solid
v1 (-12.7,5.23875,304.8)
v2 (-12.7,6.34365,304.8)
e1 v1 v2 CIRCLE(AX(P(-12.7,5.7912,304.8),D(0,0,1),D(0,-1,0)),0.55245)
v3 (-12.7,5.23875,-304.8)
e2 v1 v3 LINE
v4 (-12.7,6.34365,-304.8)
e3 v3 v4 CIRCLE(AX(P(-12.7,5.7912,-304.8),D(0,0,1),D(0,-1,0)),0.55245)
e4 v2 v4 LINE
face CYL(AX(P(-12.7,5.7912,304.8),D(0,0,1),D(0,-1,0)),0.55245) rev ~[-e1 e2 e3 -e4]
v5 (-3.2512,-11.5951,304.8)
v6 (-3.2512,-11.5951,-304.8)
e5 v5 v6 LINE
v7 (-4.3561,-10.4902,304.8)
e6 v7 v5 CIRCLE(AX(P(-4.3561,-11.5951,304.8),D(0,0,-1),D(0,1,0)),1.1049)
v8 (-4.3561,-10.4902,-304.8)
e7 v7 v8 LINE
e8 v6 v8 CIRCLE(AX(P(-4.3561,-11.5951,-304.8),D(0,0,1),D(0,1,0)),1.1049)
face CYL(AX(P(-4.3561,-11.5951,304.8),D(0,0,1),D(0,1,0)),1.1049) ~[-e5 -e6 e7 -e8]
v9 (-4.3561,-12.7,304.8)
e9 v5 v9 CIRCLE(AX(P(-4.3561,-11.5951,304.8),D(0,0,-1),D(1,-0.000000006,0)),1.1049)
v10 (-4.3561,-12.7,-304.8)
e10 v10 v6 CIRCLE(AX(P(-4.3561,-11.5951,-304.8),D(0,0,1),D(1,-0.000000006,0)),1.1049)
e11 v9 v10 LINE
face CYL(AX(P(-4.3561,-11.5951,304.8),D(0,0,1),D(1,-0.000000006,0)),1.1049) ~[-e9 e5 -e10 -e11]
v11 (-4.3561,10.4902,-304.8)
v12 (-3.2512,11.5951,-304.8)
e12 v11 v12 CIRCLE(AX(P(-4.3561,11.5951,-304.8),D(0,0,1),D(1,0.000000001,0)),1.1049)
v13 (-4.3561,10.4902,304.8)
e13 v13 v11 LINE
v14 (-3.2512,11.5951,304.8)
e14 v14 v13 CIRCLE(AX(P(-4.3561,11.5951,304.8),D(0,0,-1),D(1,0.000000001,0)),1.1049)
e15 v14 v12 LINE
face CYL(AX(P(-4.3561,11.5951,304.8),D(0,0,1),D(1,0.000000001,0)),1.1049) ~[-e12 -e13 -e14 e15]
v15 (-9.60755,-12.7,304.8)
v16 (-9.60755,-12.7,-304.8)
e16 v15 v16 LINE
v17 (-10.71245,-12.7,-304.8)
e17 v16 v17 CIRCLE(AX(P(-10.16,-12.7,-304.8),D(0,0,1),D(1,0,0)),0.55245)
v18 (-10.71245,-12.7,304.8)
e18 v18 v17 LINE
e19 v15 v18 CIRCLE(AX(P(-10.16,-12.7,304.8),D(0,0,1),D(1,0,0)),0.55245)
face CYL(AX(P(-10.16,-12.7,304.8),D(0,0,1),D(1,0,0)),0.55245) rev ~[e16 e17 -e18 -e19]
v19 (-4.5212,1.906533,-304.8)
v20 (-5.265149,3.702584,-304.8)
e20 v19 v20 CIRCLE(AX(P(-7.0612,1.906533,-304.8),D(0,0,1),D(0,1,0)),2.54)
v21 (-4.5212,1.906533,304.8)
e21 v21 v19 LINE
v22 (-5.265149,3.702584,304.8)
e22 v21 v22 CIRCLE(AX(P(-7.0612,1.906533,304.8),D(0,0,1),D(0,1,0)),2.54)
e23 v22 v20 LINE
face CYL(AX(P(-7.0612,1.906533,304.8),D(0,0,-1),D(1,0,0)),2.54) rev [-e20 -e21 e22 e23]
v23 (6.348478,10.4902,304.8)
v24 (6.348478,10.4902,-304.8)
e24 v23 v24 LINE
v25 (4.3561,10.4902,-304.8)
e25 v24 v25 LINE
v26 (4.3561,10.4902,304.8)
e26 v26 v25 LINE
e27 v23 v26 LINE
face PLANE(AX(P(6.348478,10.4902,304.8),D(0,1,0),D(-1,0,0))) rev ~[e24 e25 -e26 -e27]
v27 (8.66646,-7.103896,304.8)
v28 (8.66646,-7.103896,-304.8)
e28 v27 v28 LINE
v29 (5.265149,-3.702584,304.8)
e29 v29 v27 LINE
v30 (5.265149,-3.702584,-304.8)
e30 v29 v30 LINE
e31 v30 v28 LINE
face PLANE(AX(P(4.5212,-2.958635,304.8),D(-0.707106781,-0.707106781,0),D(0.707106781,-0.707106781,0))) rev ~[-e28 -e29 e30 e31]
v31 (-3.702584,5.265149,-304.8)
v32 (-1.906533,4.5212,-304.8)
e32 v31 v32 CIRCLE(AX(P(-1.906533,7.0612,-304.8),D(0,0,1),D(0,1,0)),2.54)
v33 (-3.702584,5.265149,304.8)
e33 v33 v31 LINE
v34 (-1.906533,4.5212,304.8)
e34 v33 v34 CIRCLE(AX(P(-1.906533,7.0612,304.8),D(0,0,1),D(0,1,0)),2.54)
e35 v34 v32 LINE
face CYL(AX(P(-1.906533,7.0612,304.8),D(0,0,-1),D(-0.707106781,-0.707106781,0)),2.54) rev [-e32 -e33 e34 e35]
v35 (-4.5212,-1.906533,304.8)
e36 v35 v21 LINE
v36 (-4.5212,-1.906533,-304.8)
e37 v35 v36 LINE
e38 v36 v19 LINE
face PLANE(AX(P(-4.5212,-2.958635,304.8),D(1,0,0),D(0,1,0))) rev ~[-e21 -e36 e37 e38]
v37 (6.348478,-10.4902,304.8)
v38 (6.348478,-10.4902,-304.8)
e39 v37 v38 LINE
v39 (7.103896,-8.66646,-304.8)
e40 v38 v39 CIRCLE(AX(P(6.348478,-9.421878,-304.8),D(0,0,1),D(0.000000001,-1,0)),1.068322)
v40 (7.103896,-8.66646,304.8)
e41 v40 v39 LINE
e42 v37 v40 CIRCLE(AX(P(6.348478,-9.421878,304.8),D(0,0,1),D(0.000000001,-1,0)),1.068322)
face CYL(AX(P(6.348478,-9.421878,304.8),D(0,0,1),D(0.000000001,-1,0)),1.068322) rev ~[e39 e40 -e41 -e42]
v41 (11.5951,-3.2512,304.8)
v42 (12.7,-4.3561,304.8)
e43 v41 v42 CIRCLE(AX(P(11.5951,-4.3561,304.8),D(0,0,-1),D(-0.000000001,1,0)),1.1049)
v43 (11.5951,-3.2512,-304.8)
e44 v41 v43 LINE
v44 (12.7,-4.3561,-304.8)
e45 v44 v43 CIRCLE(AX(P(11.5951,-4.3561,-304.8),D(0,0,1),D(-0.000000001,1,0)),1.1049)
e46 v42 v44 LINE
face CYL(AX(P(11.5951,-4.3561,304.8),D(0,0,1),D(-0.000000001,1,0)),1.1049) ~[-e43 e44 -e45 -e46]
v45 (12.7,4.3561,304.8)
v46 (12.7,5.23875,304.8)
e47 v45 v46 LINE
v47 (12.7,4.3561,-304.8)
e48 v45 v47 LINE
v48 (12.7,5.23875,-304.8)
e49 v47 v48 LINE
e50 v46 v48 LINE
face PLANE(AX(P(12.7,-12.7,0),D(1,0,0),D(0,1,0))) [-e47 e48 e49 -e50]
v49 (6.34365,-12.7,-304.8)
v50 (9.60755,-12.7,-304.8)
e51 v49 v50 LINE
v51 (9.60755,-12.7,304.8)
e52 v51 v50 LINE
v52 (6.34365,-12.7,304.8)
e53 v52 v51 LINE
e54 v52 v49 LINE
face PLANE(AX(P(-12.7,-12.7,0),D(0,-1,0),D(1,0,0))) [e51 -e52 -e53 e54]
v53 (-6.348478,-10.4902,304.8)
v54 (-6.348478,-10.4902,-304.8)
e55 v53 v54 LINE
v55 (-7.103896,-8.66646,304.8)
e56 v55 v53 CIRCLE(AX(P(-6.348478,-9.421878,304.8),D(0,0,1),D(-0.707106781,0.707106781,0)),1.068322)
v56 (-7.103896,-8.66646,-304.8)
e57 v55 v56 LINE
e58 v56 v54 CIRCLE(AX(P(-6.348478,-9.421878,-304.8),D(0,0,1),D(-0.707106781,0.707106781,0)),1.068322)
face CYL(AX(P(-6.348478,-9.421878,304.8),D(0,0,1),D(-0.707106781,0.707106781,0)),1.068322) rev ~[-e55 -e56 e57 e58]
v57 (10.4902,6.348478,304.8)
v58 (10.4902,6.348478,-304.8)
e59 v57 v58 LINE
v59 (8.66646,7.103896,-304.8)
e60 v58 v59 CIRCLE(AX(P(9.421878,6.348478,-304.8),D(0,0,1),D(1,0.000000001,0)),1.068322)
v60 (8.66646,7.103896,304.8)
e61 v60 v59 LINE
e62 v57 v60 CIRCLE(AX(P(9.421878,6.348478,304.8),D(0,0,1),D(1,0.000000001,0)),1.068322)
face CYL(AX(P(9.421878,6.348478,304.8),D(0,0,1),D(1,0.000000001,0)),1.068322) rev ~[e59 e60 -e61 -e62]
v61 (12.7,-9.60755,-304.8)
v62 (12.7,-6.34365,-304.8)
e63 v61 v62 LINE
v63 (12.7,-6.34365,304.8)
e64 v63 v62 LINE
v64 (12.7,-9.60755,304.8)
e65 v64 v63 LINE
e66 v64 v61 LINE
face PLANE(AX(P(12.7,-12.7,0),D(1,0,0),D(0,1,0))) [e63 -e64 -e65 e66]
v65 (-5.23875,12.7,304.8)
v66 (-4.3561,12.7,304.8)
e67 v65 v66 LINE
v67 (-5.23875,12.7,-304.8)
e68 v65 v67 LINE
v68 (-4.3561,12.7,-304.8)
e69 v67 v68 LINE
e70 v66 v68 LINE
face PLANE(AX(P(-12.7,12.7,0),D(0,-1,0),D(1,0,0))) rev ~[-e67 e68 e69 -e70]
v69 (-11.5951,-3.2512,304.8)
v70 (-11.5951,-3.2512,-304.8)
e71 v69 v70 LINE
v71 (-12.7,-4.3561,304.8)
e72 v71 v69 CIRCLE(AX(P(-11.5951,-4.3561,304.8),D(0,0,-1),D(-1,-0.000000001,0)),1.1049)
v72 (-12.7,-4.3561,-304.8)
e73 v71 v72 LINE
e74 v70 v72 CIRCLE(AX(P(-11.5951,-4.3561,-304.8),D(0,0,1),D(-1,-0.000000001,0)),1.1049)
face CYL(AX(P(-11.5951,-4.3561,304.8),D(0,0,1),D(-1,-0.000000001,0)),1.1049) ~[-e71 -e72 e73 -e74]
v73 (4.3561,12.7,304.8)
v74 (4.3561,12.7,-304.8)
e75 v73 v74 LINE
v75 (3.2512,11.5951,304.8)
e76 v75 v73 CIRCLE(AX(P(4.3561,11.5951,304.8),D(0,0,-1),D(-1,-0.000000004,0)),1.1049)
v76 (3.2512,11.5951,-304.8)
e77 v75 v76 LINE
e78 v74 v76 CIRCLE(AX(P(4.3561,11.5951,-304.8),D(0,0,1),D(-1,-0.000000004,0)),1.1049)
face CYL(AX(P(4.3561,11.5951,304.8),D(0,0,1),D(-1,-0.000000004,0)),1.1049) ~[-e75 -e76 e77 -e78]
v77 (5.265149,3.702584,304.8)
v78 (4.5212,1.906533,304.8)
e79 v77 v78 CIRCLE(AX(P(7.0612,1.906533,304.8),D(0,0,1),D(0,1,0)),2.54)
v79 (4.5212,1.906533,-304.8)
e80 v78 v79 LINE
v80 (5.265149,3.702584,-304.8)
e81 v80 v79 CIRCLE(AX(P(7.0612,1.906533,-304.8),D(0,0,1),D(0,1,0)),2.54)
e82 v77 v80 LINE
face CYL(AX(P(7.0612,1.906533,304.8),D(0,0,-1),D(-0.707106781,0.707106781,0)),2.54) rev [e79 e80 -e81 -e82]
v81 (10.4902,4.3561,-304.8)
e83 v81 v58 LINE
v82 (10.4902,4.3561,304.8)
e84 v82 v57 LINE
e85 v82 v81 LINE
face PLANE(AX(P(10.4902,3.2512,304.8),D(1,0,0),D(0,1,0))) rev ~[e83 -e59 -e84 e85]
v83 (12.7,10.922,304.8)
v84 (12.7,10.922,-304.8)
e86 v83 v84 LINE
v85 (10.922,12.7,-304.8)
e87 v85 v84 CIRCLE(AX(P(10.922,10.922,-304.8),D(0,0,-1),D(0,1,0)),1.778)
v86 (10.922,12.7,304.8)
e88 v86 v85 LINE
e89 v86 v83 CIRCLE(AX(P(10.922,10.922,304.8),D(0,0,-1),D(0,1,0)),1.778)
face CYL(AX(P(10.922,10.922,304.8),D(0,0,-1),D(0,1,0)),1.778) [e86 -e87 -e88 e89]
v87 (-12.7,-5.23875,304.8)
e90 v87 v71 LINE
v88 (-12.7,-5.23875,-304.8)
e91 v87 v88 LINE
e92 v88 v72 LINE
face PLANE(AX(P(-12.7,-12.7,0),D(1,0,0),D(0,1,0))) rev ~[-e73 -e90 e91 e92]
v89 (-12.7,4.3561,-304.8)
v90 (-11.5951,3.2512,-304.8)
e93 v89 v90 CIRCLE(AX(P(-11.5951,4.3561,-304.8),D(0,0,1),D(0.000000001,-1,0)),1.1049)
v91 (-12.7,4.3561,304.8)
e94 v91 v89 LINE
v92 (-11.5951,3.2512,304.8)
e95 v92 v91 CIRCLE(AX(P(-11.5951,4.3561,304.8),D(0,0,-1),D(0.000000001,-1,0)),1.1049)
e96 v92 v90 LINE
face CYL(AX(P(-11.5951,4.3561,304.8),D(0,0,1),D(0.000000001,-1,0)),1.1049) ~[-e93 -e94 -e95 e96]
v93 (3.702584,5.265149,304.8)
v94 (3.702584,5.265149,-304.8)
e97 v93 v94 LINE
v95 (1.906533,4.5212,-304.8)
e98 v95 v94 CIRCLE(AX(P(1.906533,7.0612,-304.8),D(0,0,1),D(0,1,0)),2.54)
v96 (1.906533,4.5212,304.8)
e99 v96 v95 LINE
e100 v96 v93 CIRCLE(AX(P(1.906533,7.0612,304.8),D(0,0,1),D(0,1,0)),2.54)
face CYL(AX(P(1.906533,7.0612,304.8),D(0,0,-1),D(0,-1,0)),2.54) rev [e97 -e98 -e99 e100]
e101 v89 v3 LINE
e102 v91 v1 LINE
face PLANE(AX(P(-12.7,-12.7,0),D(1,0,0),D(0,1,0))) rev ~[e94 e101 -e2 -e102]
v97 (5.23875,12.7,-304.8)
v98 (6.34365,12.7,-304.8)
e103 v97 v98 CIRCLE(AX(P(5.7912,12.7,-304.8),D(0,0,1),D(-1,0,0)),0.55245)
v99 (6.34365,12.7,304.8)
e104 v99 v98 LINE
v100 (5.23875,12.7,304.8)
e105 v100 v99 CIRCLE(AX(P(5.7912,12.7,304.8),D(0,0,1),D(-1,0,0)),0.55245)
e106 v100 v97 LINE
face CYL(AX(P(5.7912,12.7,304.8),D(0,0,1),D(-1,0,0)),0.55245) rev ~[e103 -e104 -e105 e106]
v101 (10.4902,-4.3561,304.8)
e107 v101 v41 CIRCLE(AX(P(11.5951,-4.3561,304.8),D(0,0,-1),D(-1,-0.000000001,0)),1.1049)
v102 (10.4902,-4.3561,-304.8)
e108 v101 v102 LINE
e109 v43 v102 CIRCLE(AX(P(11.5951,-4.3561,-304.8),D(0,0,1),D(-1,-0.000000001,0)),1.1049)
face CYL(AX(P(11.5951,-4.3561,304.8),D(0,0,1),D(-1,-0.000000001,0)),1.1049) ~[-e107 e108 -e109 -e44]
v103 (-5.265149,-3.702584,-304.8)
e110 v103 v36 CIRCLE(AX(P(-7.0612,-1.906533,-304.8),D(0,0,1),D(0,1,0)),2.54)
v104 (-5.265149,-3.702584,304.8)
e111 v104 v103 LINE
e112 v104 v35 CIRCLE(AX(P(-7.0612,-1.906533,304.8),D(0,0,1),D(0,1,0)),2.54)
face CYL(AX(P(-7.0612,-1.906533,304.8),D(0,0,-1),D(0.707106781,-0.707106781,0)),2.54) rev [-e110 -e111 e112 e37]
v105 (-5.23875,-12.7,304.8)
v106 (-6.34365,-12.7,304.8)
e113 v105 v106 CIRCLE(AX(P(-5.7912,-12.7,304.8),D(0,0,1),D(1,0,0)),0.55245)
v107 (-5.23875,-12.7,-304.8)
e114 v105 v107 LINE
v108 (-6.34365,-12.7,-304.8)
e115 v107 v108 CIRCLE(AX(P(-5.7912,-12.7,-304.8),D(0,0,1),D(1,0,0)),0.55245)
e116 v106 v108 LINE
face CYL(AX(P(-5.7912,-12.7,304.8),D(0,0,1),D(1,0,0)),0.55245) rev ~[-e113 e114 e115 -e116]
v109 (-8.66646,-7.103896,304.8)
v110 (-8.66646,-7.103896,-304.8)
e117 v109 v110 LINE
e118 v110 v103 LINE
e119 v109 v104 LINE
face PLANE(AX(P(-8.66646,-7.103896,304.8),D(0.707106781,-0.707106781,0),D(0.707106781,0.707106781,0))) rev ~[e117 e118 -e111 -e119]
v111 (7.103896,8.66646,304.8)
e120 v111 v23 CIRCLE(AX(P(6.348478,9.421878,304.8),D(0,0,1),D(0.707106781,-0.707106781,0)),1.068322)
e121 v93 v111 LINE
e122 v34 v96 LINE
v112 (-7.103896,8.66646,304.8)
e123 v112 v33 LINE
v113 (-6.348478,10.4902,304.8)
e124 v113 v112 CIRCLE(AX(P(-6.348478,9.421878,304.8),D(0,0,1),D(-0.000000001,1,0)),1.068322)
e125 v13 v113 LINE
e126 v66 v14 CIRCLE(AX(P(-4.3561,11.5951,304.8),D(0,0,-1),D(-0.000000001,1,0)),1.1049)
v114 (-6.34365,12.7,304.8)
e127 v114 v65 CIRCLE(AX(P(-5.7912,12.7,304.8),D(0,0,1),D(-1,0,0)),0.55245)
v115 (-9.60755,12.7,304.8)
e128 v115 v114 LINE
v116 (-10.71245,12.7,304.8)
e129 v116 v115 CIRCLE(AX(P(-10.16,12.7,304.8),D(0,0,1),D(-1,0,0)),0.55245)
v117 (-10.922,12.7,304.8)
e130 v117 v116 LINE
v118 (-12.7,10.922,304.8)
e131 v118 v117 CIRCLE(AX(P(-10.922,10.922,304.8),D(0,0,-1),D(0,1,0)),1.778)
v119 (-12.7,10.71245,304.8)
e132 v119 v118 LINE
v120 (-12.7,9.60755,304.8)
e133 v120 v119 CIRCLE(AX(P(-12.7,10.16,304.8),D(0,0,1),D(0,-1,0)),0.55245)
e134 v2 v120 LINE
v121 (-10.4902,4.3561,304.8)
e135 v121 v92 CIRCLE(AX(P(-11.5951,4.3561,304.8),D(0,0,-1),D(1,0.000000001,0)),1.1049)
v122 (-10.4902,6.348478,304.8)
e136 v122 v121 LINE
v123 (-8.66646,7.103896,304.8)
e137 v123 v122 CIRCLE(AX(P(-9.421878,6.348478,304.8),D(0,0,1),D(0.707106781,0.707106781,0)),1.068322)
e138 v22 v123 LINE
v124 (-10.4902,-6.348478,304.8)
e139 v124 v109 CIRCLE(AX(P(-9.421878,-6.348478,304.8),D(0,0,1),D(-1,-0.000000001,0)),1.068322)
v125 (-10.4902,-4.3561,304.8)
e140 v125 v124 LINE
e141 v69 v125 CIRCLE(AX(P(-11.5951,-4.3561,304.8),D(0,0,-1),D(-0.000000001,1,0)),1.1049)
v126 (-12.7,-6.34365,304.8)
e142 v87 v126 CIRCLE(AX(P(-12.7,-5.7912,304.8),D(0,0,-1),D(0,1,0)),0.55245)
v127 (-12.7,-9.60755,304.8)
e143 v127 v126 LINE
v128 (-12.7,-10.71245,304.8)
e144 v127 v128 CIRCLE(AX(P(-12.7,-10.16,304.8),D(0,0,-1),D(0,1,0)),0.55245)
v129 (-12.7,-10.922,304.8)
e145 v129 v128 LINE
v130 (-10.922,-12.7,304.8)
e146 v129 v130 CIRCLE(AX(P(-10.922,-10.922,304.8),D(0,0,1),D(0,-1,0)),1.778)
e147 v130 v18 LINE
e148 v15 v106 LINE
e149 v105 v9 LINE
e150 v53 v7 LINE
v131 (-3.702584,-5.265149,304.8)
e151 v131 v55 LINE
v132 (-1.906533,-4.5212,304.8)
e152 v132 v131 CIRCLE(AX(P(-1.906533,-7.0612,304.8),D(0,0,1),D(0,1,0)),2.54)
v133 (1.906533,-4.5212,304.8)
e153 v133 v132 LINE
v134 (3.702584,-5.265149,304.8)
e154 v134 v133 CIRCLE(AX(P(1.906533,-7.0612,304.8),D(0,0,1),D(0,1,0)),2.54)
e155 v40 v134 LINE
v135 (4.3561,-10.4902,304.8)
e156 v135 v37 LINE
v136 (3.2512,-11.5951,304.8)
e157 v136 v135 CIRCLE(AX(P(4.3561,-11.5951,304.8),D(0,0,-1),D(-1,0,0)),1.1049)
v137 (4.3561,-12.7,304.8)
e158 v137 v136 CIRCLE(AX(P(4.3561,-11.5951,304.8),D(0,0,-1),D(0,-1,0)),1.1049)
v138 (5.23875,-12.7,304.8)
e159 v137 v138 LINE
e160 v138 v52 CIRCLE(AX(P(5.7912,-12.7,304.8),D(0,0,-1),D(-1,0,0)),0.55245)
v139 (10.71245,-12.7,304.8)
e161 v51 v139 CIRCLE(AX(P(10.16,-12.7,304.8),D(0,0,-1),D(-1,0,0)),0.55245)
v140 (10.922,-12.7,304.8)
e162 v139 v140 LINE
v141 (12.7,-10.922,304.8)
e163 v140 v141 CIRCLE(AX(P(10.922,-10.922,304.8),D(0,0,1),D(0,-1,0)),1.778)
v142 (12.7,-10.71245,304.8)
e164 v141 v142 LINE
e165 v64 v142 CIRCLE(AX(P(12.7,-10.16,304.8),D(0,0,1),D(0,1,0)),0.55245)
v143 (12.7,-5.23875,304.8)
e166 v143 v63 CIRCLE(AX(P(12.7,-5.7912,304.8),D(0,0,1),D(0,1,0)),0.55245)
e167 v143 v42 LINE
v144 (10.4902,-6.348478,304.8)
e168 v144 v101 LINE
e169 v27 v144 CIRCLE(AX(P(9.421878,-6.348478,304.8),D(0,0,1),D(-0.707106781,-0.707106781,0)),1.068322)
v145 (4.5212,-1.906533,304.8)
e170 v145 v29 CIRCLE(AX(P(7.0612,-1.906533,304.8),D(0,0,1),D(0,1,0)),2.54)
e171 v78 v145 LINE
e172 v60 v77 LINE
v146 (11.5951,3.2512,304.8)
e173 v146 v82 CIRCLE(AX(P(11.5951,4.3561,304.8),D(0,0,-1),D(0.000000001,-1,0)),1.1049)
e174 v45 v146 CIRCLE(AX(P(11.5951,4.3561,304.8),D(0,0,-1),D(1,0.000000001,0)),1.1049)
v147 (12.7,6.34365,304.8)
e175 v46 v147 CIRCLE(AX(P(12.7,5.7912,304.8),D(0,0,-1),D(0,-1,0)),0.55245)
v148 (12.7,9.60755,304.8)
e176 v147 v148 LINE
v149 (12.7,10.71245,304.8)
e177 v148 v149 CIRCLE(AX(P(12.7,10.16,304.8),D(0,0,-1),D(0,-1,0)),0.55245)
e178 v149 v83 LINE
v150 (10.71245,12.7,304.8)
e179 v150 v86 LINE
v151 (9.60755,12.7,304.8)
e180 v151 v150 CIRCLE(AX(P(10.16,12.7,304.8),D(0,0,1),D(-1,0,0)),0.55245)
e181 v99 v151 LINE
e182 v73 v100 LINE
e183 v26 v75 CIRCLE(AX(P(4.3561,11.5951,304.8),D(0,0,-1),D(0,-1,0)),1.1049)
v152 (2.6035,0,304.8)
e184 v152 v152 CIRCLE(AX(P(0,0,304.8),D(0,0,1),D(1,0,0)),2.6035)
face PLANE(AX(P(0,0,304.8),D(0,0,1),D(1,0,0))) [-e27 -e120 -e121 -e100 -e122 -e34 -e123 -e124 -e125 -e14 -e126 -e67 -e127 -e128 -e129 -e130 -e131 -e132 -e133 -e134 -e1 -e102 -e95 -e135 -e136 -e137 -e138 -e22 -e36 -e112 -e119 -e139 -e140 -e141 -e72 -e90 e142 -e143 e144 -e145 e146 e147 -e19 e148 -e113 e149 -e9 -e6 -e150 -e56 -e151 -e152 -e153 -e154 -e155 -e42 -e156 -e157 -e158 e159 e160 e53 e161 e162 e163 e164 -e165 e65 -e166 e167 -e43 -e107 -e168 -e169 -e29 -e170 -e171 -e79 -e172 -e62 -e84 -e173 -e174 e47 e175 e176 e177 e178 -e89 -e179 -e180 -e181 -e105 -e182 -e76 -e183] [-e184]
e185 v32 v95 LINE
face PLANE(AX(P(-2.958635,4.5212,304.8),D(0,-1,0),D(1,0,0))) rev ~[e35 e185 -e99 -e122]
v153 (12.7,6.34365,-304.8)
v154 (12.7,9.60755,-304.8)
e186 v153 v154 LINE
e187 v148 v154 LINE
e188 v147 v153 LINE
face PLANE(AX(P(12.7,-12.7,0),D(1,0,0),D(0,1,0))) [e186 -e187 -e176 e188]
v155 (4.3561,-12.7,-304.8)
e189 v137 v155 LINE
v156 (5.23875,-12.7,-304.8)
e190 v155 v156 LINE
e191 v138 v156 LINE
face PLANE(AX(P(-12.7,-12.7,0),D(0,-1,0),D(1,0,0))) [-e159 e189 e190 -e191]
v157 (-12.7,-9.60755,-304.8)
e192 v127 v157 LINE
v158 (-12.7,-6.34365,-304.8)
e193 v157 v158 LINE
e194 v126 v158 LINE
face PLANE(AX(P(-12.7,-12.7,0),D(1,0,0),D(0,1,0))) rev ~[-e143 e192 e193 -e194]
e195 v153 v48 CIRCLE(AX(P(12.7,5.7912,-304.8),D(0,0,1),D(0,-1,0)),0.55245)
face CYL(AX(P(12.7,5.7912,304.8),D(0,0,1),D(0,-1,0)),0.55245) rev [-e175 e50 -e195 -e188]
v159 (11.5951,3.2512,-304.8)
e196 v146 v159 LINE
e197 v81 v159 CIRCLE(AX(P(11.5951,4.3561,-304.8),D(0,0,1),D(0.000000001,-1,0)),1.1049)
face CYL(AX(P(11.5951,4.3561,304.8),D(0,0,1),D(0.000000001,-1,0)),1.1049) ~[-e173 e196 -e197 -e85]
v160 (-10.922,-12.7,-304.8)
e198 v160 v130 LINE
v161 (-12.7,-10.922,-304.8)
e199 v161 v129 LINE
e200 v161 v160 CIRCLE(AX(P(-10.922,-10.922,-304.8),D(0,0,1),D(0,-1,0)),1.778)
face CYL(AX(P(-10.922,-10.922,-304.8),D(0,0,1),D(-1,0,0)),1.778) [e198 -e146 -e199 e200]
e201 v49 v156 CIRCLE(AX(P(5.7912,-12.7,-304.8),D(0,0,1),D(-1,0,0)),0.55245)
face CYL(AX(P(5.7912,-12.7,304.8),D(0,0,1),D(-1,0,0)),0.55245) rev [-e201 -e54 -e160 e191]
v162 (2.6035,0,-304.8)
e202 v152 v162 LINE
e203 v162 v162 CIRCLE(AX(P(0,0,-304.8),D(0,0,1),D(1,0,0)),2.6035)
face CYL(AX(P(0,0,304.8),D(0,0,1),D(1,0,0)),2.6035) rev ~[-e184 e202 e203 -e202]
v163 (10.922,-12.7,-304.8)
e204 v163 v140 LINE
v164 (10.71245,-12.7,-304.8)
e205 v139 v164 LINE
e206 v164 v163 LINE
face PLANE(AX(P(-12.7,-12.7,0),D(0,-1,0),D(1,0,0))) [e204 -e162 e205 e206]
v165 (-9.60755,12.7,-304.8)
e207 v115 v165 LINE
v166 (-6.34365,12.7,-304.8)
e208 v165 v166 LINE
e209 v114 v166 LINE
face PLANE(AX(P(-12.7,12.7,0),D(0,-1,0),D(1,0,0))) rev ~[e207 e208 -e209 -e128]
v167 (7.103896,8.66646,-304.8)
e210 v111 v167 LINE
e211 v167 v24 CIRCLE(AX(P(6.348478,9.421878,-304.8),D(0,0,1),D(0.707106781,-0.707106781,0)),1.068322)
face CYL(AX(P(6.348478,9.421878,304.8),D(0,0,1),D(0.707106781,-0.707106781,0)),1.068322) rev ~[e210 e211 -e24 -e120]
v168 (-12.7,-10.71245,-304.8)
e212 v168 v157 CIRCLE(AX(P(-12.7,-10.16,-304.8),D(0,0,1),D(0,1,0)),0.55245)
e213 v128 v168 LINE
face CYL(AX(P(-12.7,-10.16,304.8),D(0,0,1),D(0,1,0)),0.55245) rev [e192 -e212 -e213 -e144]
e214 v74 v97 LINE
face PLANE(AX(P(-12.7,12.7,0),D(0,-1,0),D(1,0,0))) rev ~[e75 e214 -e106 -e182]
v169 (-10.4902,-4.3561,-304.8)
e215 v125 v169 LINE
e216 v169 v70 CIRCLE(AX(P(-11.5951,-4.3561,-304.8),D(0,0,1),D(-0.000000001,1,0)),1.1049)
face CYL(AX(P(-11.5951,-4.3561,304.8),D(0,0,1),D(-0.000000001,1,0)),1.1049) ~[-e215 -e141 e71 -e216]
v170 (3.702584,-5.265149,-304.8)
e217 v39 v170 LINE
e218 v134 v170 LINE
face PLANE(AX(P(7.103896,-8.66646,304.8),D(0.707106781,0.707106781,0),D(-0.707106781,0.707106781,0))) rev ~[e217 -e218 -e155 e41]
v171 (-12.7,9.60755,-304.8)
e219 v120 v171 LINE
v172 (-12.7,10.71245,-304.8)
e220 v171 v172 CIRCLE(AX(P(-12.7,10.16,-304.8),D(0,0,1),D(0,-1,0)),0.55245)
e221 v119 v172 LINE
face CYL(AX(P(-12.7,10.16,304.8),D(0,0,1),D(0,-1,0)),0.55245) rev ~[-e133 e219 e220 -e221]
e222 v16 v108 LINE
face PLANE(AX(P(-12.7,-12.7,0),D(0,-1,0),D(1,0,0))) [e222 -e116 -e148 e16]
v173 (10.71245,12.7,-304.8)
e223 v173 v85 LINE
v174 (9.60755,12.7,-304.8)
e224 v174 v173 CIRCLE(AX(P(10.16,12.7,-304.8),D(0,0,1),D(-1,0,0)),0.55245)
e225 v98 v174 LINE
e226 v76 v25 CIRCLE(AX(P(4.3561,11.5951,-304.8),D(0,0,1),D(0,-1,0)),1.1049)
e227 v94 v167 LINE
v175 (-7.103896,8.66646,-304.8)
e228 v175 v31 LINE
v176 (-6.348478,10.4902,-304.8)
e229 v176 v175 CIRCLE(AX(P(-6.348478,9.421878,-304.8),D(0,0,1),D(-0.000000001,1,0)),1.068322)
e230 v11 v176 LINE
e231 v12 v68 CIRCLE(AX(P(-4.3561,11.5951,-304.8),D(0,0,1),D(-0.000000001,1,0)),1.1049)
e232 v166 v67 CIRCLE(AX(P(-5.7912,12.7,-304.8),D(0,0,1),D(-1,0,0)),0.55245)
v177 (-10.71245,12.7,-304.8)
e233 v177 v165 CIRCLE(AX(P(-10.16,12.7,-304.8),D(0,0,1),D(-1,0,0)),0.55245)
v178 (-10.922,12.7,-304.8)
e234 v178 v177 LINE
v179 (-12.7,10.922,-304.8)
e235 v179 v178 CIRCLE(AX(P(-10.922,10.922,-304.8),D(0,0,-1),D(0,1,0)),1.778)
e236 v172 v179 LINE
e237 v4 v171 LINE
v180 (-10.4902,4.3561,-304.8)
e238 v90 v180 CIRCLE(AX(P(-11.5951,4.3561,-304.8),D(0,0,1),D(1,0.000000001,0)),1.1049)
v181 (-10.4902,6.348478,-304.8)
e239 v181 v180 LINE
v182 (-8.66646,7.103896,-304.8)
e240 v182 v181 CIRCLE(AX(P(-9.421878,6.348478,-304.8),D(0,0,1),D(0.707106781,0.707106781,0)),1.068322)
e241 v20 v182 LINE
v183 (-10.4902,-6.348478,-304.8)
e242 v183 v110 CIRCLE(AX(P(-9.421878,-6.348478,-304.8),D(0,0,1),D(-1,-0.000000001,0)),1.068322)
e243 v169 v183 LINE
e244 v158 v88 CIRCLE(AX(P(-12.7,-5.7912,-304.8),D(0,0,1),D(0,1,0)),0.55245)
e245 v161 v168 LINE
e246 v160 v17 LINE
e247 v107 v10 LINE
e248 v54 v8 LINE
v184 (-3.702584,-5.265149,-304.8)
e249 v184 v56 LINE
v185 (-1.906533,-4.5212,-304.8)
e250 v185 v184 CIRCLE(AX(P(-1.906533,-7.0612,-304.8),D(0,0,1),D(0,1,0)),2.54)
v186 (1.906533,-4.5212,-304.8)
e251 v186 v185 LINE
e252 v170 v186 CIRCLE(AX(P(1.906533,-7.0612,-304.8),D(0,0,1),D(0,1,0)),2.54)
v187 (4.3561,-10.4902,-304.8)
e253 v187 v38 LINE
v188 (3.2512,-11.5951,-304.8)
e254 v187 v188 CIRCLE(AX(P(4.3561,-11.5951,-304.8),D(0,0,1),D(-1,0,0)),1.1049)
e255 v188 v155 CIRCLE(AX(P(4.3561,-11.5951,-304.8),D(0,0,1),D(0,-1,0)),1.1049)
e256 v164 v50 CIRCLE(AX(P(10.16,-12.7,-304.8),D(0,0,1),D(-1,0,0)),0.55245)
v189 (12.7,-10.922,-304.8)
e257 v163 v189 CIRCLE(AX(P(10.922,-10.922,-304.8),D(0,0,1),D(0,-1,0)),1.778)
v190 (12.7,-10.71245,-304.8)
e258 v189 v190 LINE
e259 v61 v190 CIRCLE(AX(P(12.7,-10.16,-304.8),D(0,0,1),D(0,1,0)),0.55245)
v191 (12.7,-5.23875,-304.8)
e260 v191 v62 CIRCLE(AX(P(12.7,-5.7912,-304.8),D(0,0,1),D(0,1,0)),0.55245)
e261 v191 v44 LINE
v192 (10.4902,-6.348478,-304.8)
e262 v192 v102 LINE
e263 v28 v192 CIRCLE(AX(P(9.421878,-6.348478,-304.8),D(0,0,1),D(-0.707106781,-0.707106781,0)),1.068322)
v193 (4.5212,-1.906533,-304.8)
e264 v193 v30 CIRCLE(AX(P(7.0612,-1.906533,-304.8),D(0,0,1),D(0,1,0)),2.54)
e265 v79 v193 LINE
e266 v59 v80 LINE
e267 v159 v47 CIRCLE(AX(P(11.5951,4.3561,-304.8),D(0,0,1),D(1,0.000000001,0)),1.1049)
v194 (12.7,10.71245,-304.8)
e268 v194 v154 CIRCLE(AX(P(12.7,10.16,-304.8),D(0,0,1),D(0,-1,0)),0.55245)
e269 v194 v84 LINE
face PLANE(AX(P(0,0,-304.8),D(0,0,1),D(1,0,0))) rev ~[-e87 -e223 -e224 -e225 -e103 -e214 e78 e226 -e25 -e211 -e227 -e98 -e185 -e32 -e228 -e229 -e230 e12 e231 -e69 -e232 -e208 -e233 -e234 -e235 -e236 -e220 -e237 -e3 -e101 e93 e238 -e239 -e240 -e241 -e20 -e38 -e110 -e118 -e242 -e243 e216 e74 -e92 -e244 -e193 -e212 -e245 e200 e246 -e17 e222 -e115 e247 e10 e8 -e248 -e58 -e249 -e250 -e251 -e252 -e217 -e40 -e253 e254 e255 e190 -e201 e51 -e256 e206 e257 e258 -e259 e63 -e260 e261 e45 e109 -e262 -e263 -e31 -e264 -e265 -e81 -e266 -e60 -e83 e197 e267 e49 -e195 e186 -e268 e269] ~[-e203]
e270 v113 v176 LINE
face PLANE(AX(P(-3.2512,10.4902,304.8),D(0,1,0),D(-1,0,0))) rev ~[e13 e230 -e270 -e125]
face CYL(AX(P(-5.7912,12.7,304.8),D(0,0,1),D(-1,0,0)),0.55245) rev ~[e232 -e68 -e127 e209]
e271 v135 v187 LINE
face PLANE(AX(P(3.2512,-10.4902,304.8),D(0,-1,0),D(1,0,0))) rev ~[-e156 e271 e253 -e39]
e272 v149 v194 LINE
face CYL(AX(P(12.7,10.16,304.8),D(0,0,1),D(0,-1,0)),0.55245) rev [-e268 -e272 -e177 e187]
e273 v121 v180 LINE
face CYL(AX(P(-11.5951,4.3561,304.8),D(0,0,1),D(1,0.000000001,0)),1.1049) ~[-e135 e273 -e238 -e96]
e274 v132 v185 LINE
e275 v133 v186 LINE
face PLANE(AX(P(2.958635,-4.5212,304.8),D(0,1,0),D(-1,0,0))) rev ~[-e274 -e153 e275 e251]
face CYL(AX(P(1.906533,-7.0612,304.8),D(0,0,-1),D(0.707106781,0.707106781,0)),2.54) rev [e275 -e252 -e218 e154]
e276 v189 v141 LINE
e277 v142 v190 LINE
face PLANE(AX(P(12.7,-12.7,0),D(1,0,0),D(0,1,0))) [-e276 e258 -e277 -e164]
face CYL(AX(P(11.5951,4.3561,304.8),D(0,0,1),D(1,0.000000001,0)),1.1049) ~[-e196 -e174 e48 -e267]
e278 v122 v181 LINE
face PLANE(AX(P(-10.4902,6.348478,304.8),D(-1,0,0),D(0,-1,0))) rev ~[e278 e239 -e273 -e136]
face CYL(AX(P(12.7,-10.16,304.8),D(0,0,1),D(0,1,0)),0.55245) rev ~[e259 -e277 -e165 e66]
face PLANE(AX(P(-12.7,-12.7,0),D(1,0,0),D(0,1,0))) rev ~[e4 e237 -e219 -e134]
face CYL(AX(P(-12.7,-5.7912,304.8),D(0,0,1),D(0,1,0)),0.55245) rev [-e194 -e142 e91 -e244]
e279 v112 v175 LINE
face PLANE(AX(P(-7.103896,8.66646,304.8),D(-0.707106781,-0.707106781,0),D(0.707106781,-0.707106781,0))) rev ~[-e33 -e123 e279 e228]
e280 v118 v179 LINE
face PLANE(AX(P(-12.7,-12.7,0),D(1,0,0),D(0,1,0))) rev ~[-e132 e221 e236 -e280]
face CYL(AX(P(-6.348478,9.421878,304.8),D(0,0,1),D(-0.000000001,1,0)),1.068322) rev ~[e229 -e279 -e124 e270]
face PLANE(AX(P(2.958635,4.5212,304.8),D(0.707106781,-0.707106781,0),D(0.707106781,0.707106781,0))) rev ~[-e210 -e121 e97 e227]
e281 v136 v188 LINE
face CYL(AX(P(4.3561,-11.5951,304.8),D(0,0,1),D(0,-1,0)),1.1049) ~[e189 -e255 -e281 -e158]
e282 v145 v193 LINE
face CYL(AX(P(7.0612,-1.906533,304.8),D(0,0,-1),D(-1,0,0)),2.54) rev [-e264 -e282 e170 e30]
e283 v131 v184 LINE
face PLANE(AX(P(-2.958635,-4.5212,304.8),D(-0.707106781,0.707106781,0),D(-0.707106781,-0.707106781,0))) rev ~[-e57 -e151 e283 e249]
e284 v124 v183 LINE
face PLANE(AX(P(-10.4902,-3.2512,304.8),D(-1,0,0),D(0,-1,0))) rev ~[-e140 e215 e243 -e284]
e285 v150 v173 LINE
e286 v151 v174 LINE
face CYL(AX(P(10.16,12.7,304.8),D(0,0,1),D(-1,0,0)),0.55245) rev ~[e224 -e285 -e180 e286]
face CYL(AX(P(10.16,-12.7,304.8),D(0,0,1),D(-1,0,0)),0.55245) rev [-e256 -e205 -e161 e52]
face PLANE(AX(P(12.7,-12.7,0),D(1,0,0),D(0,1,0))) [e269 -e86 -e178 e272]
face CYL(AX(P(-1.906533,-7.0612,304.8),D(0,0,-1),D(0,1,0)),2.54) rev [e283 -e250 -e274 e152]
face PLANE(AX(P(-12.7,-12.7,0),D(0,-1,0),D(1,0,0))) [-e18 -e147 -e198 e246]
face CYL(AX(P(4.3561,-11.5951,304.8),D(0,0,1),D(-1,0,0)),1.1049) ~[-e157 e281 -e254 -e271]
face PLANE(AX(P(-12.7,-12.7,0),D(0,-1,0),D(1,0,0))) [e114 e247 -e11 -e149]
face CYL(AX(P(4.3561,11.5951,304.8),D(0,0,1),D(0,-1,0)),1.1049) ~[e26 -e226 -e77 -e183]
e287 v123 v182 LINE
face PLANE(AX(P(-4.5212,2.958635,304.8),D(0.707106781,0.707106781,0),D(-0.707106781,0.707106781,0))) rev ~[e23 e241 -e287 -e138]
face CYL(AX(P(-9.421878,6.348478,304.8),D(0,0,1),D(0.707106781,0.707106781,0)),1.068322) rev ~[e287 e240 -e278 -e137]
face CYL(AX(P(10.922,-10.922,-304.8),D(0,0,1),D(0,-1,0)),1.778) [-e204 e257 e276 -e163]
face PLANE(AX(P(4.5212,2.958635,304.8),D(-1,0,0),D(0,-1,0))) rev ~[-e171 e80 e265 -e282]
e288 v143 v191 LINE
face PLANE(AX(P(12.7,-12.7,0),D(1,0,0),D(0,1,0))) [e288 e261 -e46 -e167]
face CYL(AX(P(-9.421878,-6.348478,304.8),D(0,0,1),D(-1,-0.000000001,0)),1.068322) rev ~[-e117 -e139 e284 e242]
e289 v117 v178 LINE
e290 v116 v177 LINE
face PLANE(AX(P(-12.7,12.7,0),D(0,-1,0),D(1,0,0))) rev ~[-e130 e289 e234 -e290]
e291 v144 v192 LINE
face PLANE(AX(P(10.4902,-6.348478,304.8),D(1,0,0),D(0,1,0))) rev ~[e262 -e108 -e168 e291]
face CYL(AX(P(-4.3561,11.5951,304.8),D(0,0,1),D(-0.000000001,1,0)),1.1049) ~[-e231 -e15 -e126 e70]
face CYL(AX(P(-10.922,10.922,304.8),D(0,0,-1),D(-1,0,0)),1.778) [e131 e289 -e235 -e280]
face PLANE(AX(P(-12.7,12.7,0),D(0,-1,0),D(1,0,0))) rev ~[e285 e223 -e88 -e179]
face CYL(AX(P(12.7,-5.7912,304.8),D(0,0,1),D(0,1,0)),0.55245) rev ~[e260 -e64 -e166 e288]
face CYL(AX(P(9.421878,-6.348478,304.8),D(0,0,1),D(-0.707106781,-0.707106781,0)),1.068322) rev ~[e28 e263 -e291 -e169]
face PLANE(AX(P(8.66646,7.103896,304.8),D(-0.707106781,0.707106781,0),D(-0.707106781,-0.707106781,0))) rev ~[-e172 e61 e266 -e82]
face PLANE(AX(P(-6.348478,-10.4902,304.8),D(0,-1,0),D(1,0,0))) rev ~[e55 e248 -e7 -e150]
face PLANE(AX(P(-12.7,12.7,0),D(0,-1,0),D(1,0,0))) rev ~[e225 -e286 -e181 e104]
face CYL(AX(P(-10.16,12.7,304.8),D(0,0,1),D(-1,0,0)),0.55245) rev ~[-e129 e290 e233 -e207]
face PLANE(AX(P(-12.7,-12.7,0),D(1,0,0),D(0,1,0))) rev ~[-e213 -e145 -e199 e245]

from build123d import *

# Parameters (mm, degrees)
SKETCH3_W                = 25.4
SKETCH3_H                = 25.4
BOSS_EXTRUDE1_DEPTH      = 304.8
BOSS_EXTRUDE1_DEPTH_BACK = 304.8
SKETCH4_R                = 2.6035
CUT_EXTRUDE1_DEPTH       = 610.6
CUT_EXTRUDE2_DEPTH       = 610.6
FILLET1_R                = 2.54
FILLET2_R                = 1.778


with BuildPart() as part:
    # Sketch3 → Boss-Extrude1 (new body, two sides)
    with BuildSketch(Plane.XY) as boss_extrude1_sk:
        Rectangle(SKETCH3_W, SKETCH3_H)
    extrude(amount=BOSS_EXTRUDE1_DEPTH)
    extrude(boss_extrude1_sk.sketch, amount=-BOSS_EXTRUDE1_DEPTH_BACK)

    # Sketch4 → Cut-Extrude1 (cut, through all)
    with BuildSketch(Plane.XY.offset(304.8)):
        with BuildLine():
            Line((3.2512, 12.7), (-3.2512, 12.7))
            Line((-3.2512, 12.7), (-3.2512, 10.4902))
            Line((-3.2512, 10.4902), (-6.348478019, 10.4902))
            ThreePointArc((-6.348478019, 10.4902), (-7.335478831, 9.830707141), (-7.103895736, 8.666460301))
            Line((-7.103895736, 8.666460301), (-2.958635435, 4.5212))
            Line((-2.958635435, 4.5212), (2.958635435, 4.5212))
            Line((2.958635435, 4.5212), (7.103895736, 8.666460301))
            ThreePointArc((7.103895736, 8.666460301), (7.335478831, 9.830707141), (6.348478019, 10.4902))
            Line((6.348478019, 10.4902), (3.2512, 10.4902))
            Line((3.2512, 10.4902), (3.2512, 12.7))
        make_face()
        with BuildLine():
            Line((12.7, -3.2512), (12.7, 3.2512))
            Line((12.7, 3.2512), (10.4902, 3.2512))
            Line((10.4902, 3.2512), (10.4902, 6.348478019))
            ThreePointArc((10.4902, 6.348478019), (9.830707141, 7.335478831), (8.666460301, 7.103895736))
            Line((8.666460301, 7.103895736), (4.5212, 2.958635435))
            Line((4.5212, 2.958635435), (4.5212, -2.958635435))
            Line((4.5212, -2.958635435), (8.666460301, -7.103895736))
            ThreePointArc((8.666460301, -7.103895736), (9.830707141, -7.335478831), (10.4902, -6.348478019))
            Line((10.4902, -6.348478019), (10.4902, -3.2512))
            Line((10.4902, -3.2512), (12.7, -3.2512))
        make_face()
        with BuildLine():
            Line((-3.2512, -10.4902), (-3.2512, -12.7))
            Line((-3.2512, -12.7), (3.2512, -12.7))
            Line((3.2512, -12.7), (3.2512, -10.4902))
            Line((3.2512, -10.4902), (6.348478019, -10.4902))
            ThreePointArc((6.348478019, -10.4902), (7.335478831, -9.830707141), (7.103895736, -8.666460301))
            Line((7.103895736, -8.666460301), (2.958635435, -4.5212))
            Line((2.958635435, -4.5212), (-2.958635435, -4.5212))
            Line((-2.958635435, -4.5212), (-7.103895736, -8.666460301))
            ThreePointArc((-7.103895736, -8.666460301), (-7.335478831, -9.830707141), (-6.348478019, -10.4902))
            Line((-6.348478019, -10.4902), (-3.2512, -10.4902))
        make_face()
        with BuildLine():
            Line((-10.4902, 3.2512), (-12.7, 3.2512))
            Line((-12.7, 3.2512), (-12.7, -3.2512))
            Line((-12.7, -3.2512), (-10.4902, -3.2512))
            Line((-10.4902, -3.2512), (-10.4902, -6.348478019))
            ThreePointArc((-10.4902, -6.348478019), (-9.830707141, -7.335478831), (-8.666460301, -7.103895736))
            Line((-8.666460301, -7.103895736), (-4.5212, -2.958635435))
            Line((-4.5212, -2.958635435), (-4.5212, 2.958635435))
            Line((-4.5212, 2.958635435), (-8.666460301, 7.103895736))
            ThreePointArc((-8.666460301, 7.103895736), (-9.830707141, 7.335478831), (-10.4902, 6.348478019))
            Line((-10.4902, 6.348478019), (-10.4902, 3.2512))
        make_face()
        Circle(SKETCH4_R)
    extrude(amount=-CUT_EXTRUDE1_DEPTH, mode=Mode.SUBTRACT)

    # Sketch5 → Cut-Extrude2 (cut, through all)
    with BuildSketch(Plane.XY.offset(304.8)):
        with BuildLine():
            ThreePointArc((-11.5951, 3.2512), (-12.376382283, 3.574817717), (-12.7, 4.3561))
            Line((-12.7, 4.3561), (-12.7, 3.2512))
            Line((-12.7, 3.2512), (-11.5951, 3.2512))
        make_face()
        with BuildLine():
            ThreePointArc((-10.4902, 4.3561), (-10.813817717, 3.574817717), (-11.5951, 3.2512))
            Line((-11.5951, 3.2512), (-10.4902, 3.2512))
            Line((-10.4902, 3.2512), (-10.4902, 4.3561))
        make_face()
        with BuildLine():
            Line((-12.7, -3.2512), (-12.7, -4.3561))
            ThreePointArc((-12.7, -4.3561), (-12.376382283, -3.574817717), (-11.5951, -3.2512))
            Line((-11.5951, -3.2512), (-12.7, -3.2512))
        make_face()
        with BuildLine():
            Line((-10.4902, -3.2512), (-11.5951, -3.2512))
            ThreePointArc((-11.5951, -3.2512), (-10.813817717, -3.574817717), (-10.4902, -4.3561))
            Line((-10.4902, -4.3561), (-10.4902, -3.2512))
        make_face()
        with BuildLine():
            Line((-3.2512, -11.595100007), (-3.2512, -10.4902))
            Line((-3.2512, -10.4902), (-4.3561, -10.4902))
            ThreePointArc((-4.3561, -10.4902), (-3.574817715, -10.81381772), (-3.2512, -11.595100007))
        make_face()
        with BuildLine():
            Line((-3.2512, -12.7), (-3.2512, -11.595100007))
            ThreePointArc((-3.2512, -11.595100007), (-3.57481772, -12.376382285), (-4.3561, -12.7))
            Line((-4.3561, -12.7), (-3.2512, -12.7))
        make_face()
        with BuildLine():
            Line((3.2512, -10.4902), (3.2512, -11.5951))
            ThreePointArc((3.2512, -11.5951), (3.574817718, -10.813817717), (4.3561, -10.4902))
            Line((4.3561, -10.4902), (3.2512, -10.4902))
        make_face()
        with BuildLine():
            Line((3.2512, -12.7), (4.3561, -12.7))
            ThreePointArc((4.3561, -12.7), (3.574817717, -12.376382282), (3.2512, -11.5951))
            Line((3.2512, -11.5951), (3.2512, -12.7))
        make_face()
        with BuildLine():
            Line((11.5951, -3.2512), (10.4902, -3.2512))
            Line((10.4902, -3.2512), (10.4902, -4.3561))
            ThreePointArc((10.4902, -4.3561), (10.813817717, -3.574817717), (11.5951, -3.2512))
        make_face()
        with BuildLine():
            Line((12.7, -3.2512), (11.5951, -3.2512))
            ThreePointArc((11.5951, -3.2512), (12.376382283, -3.574817717), (12.7, -4.3561))
            Line((12.7, -4.3561), (12.7, -3.2512))
        make_face()
        with BuildLine():
            Line((10.4902, 3.2512), (11.5951, 3.2512))
            ThreePointArc((11.5951, 3.2512), (10.813817717, 3.574817717), (10.4902, 4.3561))
            Line((10.4902, 4.3561), (10.4902, 3.2512))
        make_face()
        with BuildLine():
            Line((12.7, 3.2512), (12.7, 4.3561))
            ThreePointArc((12.7, 4.3561), (12.376382283, 3.574817717), (11.5951, 3.2512))
            Line((11.5951, 3.2512), (12.7, 3.2512))
        make_face()
        with BuildLine():
            Line((3.2512, 12.7), (3.2512, 11.595099996))
            ThreePointArc((3.2512, 11.595099996), (3.574817716, 12.376382281), (4.3561, 12.7))
            Line((4.3561, 12.7), (3.2512, 12.7))
        make_face()
        with BuildLine():
            Line((3.2512, 11.595099996), (3.2512, 10.4902))
            Line((3.2512, 10.4902), (4.3561, 10.4902))
            ThreePointArc((4.3561, 10.4902), (3.574817719, 10.813817716), (3.2512, 11.595099996))
        make_face()
        with BuildLine():
            Line((-3.2512, 12.7), (-4.3561, 12.7))
            ThreePointArc((-4.3561, 12.7), (-3.574817717, 12.376382283), (-3.2512, 11.5951))
            Line((-3.2512, 11.5951), (-3.2512, 12.7))
        make_face()
        with BuildLine():
            Line((-3.2512, 10.4902), (-3.2512, 11.5951))
            ThreePointArc((-3.2512, 11.5951), (-3.574817717, 10.813817717), (-4.3561, 10.4902))
            Line((-4.3561, 10.4902), (-3.2512, 10.4902))
        make_face()
        with BuildLine():
            ThreePointArc((-12.7, 5.23875), (-12.14755, 5.7912), (-12.7, 6.34365))
            Line((-12.7, 6.34365), (-12.7, 5.23875))
        make_face()
        with BuildLine():
            ThreePointArc((-12.7, 9.60755), (-12.14755, 10.16), (-12.7, 10.71245))
            Line((-12.7, 10.71245), (-12.7, 9.60755))
        make_face()
        with BuildLine():
            ThreePointArc((-10.71245, 12.7), (-10.16, 12.14755), (-9.60755, 12.7))
            Line((-9.60755, 12.7), (-10.71245, 12.7))
        make_face()
        with BuildLine():
            ThreePointArc((-6.34365, 12.7), (-5.7912, 12.14755), (-5.23875, 12.7))
            Line((-5.23875, 12.7), (-6.34365, 12.7))
        make_face()
        with BuildLine():
            Line((6.34365, 12.7), (5.23875, 12.7))
            ThreePointArc((5.23875, 12.7), (5.7912, 12.14755), (6.34365, 12.7))
        make_face()
        with BuildLine():
            Line((10.71245, 12.7), (9.60755, 12.7))
            ThreePointArc((9.60755, 12.7), (10.16, 12.14755), (10.71245, 12.7))
        make_face()
        with BuildLine():
            Line((12.7, 10.71245), (12.7, 9.60755))
            ThreePointArc((12.7, 9.60755), (12.14755, 10.16), (12.7, 10.71245))
        make_face()
        with BuildLine():
            Line((12.7, 6.34365), (12.7, 5.23875))
            ThreePointArc((12.7, 5.23875), (12.14755, 5.7912), (12.7, 6.34365))
        make_face()
        with BuildLine():
            Line((-12.7, -6.34365), (-12.7, -5.23875))
            ThreePointArc((-12.7, -5.23875), (-12.14755, -5.7912), (-12.7, -6.34365))
        make_face()
        with BuildLine():
            Line((-12.7, -10.71245), (-12.7, -9.60755))
            ThreePointArc((-12.7, -9.60755), (-12.14755, -10.16), (-12.7, -10.71245))
        make_face()
        with BuildLine():
            Line((-10.71245, -12.7), (-9.60755, -12.7))
            ThreePointArc((-9.60755, -12.7), (-10.16, -12.14755), (-10.71245, -12.7))
        make_face()
        with BuildLine():
            Line((-6.34365, -12.7), (-5.23875, -12.7))
            ThreePointArc((-5.23875, -12.7), (-5.7912, -12.14755), (-6.34365, -12.7))
        make_face()
        with BuildLine():
            Line((12.7, -10.71245), (12.7, -9.60755))
            ThreePointArc((12.7, -9.60755), (12.14755, -10.16), (12.7, -10.71245))
        make_face()
        with BuildLine():
            Line((12.7, -6.34365), (12.7, -5.23875))
            ThreePointArc((12.7, -5.23875), (12.14755, -5.7912), (12.7, -6.34365))
        make_face()
        with BuildLine():
            Line((10.71245, -12.7), (9.60755, -12.7))
            ThreePointArc((9.60755, -12.7), (10.16, -12.14755), (10.71245, -12.7))
        make_face()
        with BuildLine():
            Line((6.34365, -12.7), (5.23875, -12.7))
            ThreePointArc((5.23875, -12.7), (5.7912, -12.14755), (6.34365, -12.7))
        make_face()
    extrude(amount=-CUT_EXTRUDE2_DEPTH, mode=Mode.SUBTRACT)

    # Fillet1
    fillet1_edges = [part.edges().sort_by_distance(p)[0] for p in [
        (2.958635435, 4.5212, 0),
        (-2.958635435, 4.5212, 0),
        (-2.958635435, -4.5212, 0),
        (2.958635435, -4.5212, 0),
        (4.5212, -2.958635435, 0),
        (4.5212, 2.958635435, 0),
        (-4.5212, 2.958635435, 0),
        (-4.5212, -2.958635435, 0),
    ]]
    fillet(fillet1_edges, radius=FILLET1_R)

    # Fillet2
    fillet2_edges = [part.edges().sort_by_distance(p)[0] for p in [
        (-12.7, 12.7, 0),
        (12.7, 12.7, 0),
        (12.7, -12.7, 0),
        (-12.7, -12.7, 0),
    ]]
    fillet(fillet2_edges, radius=FILLET2_R)


solid = part.part
